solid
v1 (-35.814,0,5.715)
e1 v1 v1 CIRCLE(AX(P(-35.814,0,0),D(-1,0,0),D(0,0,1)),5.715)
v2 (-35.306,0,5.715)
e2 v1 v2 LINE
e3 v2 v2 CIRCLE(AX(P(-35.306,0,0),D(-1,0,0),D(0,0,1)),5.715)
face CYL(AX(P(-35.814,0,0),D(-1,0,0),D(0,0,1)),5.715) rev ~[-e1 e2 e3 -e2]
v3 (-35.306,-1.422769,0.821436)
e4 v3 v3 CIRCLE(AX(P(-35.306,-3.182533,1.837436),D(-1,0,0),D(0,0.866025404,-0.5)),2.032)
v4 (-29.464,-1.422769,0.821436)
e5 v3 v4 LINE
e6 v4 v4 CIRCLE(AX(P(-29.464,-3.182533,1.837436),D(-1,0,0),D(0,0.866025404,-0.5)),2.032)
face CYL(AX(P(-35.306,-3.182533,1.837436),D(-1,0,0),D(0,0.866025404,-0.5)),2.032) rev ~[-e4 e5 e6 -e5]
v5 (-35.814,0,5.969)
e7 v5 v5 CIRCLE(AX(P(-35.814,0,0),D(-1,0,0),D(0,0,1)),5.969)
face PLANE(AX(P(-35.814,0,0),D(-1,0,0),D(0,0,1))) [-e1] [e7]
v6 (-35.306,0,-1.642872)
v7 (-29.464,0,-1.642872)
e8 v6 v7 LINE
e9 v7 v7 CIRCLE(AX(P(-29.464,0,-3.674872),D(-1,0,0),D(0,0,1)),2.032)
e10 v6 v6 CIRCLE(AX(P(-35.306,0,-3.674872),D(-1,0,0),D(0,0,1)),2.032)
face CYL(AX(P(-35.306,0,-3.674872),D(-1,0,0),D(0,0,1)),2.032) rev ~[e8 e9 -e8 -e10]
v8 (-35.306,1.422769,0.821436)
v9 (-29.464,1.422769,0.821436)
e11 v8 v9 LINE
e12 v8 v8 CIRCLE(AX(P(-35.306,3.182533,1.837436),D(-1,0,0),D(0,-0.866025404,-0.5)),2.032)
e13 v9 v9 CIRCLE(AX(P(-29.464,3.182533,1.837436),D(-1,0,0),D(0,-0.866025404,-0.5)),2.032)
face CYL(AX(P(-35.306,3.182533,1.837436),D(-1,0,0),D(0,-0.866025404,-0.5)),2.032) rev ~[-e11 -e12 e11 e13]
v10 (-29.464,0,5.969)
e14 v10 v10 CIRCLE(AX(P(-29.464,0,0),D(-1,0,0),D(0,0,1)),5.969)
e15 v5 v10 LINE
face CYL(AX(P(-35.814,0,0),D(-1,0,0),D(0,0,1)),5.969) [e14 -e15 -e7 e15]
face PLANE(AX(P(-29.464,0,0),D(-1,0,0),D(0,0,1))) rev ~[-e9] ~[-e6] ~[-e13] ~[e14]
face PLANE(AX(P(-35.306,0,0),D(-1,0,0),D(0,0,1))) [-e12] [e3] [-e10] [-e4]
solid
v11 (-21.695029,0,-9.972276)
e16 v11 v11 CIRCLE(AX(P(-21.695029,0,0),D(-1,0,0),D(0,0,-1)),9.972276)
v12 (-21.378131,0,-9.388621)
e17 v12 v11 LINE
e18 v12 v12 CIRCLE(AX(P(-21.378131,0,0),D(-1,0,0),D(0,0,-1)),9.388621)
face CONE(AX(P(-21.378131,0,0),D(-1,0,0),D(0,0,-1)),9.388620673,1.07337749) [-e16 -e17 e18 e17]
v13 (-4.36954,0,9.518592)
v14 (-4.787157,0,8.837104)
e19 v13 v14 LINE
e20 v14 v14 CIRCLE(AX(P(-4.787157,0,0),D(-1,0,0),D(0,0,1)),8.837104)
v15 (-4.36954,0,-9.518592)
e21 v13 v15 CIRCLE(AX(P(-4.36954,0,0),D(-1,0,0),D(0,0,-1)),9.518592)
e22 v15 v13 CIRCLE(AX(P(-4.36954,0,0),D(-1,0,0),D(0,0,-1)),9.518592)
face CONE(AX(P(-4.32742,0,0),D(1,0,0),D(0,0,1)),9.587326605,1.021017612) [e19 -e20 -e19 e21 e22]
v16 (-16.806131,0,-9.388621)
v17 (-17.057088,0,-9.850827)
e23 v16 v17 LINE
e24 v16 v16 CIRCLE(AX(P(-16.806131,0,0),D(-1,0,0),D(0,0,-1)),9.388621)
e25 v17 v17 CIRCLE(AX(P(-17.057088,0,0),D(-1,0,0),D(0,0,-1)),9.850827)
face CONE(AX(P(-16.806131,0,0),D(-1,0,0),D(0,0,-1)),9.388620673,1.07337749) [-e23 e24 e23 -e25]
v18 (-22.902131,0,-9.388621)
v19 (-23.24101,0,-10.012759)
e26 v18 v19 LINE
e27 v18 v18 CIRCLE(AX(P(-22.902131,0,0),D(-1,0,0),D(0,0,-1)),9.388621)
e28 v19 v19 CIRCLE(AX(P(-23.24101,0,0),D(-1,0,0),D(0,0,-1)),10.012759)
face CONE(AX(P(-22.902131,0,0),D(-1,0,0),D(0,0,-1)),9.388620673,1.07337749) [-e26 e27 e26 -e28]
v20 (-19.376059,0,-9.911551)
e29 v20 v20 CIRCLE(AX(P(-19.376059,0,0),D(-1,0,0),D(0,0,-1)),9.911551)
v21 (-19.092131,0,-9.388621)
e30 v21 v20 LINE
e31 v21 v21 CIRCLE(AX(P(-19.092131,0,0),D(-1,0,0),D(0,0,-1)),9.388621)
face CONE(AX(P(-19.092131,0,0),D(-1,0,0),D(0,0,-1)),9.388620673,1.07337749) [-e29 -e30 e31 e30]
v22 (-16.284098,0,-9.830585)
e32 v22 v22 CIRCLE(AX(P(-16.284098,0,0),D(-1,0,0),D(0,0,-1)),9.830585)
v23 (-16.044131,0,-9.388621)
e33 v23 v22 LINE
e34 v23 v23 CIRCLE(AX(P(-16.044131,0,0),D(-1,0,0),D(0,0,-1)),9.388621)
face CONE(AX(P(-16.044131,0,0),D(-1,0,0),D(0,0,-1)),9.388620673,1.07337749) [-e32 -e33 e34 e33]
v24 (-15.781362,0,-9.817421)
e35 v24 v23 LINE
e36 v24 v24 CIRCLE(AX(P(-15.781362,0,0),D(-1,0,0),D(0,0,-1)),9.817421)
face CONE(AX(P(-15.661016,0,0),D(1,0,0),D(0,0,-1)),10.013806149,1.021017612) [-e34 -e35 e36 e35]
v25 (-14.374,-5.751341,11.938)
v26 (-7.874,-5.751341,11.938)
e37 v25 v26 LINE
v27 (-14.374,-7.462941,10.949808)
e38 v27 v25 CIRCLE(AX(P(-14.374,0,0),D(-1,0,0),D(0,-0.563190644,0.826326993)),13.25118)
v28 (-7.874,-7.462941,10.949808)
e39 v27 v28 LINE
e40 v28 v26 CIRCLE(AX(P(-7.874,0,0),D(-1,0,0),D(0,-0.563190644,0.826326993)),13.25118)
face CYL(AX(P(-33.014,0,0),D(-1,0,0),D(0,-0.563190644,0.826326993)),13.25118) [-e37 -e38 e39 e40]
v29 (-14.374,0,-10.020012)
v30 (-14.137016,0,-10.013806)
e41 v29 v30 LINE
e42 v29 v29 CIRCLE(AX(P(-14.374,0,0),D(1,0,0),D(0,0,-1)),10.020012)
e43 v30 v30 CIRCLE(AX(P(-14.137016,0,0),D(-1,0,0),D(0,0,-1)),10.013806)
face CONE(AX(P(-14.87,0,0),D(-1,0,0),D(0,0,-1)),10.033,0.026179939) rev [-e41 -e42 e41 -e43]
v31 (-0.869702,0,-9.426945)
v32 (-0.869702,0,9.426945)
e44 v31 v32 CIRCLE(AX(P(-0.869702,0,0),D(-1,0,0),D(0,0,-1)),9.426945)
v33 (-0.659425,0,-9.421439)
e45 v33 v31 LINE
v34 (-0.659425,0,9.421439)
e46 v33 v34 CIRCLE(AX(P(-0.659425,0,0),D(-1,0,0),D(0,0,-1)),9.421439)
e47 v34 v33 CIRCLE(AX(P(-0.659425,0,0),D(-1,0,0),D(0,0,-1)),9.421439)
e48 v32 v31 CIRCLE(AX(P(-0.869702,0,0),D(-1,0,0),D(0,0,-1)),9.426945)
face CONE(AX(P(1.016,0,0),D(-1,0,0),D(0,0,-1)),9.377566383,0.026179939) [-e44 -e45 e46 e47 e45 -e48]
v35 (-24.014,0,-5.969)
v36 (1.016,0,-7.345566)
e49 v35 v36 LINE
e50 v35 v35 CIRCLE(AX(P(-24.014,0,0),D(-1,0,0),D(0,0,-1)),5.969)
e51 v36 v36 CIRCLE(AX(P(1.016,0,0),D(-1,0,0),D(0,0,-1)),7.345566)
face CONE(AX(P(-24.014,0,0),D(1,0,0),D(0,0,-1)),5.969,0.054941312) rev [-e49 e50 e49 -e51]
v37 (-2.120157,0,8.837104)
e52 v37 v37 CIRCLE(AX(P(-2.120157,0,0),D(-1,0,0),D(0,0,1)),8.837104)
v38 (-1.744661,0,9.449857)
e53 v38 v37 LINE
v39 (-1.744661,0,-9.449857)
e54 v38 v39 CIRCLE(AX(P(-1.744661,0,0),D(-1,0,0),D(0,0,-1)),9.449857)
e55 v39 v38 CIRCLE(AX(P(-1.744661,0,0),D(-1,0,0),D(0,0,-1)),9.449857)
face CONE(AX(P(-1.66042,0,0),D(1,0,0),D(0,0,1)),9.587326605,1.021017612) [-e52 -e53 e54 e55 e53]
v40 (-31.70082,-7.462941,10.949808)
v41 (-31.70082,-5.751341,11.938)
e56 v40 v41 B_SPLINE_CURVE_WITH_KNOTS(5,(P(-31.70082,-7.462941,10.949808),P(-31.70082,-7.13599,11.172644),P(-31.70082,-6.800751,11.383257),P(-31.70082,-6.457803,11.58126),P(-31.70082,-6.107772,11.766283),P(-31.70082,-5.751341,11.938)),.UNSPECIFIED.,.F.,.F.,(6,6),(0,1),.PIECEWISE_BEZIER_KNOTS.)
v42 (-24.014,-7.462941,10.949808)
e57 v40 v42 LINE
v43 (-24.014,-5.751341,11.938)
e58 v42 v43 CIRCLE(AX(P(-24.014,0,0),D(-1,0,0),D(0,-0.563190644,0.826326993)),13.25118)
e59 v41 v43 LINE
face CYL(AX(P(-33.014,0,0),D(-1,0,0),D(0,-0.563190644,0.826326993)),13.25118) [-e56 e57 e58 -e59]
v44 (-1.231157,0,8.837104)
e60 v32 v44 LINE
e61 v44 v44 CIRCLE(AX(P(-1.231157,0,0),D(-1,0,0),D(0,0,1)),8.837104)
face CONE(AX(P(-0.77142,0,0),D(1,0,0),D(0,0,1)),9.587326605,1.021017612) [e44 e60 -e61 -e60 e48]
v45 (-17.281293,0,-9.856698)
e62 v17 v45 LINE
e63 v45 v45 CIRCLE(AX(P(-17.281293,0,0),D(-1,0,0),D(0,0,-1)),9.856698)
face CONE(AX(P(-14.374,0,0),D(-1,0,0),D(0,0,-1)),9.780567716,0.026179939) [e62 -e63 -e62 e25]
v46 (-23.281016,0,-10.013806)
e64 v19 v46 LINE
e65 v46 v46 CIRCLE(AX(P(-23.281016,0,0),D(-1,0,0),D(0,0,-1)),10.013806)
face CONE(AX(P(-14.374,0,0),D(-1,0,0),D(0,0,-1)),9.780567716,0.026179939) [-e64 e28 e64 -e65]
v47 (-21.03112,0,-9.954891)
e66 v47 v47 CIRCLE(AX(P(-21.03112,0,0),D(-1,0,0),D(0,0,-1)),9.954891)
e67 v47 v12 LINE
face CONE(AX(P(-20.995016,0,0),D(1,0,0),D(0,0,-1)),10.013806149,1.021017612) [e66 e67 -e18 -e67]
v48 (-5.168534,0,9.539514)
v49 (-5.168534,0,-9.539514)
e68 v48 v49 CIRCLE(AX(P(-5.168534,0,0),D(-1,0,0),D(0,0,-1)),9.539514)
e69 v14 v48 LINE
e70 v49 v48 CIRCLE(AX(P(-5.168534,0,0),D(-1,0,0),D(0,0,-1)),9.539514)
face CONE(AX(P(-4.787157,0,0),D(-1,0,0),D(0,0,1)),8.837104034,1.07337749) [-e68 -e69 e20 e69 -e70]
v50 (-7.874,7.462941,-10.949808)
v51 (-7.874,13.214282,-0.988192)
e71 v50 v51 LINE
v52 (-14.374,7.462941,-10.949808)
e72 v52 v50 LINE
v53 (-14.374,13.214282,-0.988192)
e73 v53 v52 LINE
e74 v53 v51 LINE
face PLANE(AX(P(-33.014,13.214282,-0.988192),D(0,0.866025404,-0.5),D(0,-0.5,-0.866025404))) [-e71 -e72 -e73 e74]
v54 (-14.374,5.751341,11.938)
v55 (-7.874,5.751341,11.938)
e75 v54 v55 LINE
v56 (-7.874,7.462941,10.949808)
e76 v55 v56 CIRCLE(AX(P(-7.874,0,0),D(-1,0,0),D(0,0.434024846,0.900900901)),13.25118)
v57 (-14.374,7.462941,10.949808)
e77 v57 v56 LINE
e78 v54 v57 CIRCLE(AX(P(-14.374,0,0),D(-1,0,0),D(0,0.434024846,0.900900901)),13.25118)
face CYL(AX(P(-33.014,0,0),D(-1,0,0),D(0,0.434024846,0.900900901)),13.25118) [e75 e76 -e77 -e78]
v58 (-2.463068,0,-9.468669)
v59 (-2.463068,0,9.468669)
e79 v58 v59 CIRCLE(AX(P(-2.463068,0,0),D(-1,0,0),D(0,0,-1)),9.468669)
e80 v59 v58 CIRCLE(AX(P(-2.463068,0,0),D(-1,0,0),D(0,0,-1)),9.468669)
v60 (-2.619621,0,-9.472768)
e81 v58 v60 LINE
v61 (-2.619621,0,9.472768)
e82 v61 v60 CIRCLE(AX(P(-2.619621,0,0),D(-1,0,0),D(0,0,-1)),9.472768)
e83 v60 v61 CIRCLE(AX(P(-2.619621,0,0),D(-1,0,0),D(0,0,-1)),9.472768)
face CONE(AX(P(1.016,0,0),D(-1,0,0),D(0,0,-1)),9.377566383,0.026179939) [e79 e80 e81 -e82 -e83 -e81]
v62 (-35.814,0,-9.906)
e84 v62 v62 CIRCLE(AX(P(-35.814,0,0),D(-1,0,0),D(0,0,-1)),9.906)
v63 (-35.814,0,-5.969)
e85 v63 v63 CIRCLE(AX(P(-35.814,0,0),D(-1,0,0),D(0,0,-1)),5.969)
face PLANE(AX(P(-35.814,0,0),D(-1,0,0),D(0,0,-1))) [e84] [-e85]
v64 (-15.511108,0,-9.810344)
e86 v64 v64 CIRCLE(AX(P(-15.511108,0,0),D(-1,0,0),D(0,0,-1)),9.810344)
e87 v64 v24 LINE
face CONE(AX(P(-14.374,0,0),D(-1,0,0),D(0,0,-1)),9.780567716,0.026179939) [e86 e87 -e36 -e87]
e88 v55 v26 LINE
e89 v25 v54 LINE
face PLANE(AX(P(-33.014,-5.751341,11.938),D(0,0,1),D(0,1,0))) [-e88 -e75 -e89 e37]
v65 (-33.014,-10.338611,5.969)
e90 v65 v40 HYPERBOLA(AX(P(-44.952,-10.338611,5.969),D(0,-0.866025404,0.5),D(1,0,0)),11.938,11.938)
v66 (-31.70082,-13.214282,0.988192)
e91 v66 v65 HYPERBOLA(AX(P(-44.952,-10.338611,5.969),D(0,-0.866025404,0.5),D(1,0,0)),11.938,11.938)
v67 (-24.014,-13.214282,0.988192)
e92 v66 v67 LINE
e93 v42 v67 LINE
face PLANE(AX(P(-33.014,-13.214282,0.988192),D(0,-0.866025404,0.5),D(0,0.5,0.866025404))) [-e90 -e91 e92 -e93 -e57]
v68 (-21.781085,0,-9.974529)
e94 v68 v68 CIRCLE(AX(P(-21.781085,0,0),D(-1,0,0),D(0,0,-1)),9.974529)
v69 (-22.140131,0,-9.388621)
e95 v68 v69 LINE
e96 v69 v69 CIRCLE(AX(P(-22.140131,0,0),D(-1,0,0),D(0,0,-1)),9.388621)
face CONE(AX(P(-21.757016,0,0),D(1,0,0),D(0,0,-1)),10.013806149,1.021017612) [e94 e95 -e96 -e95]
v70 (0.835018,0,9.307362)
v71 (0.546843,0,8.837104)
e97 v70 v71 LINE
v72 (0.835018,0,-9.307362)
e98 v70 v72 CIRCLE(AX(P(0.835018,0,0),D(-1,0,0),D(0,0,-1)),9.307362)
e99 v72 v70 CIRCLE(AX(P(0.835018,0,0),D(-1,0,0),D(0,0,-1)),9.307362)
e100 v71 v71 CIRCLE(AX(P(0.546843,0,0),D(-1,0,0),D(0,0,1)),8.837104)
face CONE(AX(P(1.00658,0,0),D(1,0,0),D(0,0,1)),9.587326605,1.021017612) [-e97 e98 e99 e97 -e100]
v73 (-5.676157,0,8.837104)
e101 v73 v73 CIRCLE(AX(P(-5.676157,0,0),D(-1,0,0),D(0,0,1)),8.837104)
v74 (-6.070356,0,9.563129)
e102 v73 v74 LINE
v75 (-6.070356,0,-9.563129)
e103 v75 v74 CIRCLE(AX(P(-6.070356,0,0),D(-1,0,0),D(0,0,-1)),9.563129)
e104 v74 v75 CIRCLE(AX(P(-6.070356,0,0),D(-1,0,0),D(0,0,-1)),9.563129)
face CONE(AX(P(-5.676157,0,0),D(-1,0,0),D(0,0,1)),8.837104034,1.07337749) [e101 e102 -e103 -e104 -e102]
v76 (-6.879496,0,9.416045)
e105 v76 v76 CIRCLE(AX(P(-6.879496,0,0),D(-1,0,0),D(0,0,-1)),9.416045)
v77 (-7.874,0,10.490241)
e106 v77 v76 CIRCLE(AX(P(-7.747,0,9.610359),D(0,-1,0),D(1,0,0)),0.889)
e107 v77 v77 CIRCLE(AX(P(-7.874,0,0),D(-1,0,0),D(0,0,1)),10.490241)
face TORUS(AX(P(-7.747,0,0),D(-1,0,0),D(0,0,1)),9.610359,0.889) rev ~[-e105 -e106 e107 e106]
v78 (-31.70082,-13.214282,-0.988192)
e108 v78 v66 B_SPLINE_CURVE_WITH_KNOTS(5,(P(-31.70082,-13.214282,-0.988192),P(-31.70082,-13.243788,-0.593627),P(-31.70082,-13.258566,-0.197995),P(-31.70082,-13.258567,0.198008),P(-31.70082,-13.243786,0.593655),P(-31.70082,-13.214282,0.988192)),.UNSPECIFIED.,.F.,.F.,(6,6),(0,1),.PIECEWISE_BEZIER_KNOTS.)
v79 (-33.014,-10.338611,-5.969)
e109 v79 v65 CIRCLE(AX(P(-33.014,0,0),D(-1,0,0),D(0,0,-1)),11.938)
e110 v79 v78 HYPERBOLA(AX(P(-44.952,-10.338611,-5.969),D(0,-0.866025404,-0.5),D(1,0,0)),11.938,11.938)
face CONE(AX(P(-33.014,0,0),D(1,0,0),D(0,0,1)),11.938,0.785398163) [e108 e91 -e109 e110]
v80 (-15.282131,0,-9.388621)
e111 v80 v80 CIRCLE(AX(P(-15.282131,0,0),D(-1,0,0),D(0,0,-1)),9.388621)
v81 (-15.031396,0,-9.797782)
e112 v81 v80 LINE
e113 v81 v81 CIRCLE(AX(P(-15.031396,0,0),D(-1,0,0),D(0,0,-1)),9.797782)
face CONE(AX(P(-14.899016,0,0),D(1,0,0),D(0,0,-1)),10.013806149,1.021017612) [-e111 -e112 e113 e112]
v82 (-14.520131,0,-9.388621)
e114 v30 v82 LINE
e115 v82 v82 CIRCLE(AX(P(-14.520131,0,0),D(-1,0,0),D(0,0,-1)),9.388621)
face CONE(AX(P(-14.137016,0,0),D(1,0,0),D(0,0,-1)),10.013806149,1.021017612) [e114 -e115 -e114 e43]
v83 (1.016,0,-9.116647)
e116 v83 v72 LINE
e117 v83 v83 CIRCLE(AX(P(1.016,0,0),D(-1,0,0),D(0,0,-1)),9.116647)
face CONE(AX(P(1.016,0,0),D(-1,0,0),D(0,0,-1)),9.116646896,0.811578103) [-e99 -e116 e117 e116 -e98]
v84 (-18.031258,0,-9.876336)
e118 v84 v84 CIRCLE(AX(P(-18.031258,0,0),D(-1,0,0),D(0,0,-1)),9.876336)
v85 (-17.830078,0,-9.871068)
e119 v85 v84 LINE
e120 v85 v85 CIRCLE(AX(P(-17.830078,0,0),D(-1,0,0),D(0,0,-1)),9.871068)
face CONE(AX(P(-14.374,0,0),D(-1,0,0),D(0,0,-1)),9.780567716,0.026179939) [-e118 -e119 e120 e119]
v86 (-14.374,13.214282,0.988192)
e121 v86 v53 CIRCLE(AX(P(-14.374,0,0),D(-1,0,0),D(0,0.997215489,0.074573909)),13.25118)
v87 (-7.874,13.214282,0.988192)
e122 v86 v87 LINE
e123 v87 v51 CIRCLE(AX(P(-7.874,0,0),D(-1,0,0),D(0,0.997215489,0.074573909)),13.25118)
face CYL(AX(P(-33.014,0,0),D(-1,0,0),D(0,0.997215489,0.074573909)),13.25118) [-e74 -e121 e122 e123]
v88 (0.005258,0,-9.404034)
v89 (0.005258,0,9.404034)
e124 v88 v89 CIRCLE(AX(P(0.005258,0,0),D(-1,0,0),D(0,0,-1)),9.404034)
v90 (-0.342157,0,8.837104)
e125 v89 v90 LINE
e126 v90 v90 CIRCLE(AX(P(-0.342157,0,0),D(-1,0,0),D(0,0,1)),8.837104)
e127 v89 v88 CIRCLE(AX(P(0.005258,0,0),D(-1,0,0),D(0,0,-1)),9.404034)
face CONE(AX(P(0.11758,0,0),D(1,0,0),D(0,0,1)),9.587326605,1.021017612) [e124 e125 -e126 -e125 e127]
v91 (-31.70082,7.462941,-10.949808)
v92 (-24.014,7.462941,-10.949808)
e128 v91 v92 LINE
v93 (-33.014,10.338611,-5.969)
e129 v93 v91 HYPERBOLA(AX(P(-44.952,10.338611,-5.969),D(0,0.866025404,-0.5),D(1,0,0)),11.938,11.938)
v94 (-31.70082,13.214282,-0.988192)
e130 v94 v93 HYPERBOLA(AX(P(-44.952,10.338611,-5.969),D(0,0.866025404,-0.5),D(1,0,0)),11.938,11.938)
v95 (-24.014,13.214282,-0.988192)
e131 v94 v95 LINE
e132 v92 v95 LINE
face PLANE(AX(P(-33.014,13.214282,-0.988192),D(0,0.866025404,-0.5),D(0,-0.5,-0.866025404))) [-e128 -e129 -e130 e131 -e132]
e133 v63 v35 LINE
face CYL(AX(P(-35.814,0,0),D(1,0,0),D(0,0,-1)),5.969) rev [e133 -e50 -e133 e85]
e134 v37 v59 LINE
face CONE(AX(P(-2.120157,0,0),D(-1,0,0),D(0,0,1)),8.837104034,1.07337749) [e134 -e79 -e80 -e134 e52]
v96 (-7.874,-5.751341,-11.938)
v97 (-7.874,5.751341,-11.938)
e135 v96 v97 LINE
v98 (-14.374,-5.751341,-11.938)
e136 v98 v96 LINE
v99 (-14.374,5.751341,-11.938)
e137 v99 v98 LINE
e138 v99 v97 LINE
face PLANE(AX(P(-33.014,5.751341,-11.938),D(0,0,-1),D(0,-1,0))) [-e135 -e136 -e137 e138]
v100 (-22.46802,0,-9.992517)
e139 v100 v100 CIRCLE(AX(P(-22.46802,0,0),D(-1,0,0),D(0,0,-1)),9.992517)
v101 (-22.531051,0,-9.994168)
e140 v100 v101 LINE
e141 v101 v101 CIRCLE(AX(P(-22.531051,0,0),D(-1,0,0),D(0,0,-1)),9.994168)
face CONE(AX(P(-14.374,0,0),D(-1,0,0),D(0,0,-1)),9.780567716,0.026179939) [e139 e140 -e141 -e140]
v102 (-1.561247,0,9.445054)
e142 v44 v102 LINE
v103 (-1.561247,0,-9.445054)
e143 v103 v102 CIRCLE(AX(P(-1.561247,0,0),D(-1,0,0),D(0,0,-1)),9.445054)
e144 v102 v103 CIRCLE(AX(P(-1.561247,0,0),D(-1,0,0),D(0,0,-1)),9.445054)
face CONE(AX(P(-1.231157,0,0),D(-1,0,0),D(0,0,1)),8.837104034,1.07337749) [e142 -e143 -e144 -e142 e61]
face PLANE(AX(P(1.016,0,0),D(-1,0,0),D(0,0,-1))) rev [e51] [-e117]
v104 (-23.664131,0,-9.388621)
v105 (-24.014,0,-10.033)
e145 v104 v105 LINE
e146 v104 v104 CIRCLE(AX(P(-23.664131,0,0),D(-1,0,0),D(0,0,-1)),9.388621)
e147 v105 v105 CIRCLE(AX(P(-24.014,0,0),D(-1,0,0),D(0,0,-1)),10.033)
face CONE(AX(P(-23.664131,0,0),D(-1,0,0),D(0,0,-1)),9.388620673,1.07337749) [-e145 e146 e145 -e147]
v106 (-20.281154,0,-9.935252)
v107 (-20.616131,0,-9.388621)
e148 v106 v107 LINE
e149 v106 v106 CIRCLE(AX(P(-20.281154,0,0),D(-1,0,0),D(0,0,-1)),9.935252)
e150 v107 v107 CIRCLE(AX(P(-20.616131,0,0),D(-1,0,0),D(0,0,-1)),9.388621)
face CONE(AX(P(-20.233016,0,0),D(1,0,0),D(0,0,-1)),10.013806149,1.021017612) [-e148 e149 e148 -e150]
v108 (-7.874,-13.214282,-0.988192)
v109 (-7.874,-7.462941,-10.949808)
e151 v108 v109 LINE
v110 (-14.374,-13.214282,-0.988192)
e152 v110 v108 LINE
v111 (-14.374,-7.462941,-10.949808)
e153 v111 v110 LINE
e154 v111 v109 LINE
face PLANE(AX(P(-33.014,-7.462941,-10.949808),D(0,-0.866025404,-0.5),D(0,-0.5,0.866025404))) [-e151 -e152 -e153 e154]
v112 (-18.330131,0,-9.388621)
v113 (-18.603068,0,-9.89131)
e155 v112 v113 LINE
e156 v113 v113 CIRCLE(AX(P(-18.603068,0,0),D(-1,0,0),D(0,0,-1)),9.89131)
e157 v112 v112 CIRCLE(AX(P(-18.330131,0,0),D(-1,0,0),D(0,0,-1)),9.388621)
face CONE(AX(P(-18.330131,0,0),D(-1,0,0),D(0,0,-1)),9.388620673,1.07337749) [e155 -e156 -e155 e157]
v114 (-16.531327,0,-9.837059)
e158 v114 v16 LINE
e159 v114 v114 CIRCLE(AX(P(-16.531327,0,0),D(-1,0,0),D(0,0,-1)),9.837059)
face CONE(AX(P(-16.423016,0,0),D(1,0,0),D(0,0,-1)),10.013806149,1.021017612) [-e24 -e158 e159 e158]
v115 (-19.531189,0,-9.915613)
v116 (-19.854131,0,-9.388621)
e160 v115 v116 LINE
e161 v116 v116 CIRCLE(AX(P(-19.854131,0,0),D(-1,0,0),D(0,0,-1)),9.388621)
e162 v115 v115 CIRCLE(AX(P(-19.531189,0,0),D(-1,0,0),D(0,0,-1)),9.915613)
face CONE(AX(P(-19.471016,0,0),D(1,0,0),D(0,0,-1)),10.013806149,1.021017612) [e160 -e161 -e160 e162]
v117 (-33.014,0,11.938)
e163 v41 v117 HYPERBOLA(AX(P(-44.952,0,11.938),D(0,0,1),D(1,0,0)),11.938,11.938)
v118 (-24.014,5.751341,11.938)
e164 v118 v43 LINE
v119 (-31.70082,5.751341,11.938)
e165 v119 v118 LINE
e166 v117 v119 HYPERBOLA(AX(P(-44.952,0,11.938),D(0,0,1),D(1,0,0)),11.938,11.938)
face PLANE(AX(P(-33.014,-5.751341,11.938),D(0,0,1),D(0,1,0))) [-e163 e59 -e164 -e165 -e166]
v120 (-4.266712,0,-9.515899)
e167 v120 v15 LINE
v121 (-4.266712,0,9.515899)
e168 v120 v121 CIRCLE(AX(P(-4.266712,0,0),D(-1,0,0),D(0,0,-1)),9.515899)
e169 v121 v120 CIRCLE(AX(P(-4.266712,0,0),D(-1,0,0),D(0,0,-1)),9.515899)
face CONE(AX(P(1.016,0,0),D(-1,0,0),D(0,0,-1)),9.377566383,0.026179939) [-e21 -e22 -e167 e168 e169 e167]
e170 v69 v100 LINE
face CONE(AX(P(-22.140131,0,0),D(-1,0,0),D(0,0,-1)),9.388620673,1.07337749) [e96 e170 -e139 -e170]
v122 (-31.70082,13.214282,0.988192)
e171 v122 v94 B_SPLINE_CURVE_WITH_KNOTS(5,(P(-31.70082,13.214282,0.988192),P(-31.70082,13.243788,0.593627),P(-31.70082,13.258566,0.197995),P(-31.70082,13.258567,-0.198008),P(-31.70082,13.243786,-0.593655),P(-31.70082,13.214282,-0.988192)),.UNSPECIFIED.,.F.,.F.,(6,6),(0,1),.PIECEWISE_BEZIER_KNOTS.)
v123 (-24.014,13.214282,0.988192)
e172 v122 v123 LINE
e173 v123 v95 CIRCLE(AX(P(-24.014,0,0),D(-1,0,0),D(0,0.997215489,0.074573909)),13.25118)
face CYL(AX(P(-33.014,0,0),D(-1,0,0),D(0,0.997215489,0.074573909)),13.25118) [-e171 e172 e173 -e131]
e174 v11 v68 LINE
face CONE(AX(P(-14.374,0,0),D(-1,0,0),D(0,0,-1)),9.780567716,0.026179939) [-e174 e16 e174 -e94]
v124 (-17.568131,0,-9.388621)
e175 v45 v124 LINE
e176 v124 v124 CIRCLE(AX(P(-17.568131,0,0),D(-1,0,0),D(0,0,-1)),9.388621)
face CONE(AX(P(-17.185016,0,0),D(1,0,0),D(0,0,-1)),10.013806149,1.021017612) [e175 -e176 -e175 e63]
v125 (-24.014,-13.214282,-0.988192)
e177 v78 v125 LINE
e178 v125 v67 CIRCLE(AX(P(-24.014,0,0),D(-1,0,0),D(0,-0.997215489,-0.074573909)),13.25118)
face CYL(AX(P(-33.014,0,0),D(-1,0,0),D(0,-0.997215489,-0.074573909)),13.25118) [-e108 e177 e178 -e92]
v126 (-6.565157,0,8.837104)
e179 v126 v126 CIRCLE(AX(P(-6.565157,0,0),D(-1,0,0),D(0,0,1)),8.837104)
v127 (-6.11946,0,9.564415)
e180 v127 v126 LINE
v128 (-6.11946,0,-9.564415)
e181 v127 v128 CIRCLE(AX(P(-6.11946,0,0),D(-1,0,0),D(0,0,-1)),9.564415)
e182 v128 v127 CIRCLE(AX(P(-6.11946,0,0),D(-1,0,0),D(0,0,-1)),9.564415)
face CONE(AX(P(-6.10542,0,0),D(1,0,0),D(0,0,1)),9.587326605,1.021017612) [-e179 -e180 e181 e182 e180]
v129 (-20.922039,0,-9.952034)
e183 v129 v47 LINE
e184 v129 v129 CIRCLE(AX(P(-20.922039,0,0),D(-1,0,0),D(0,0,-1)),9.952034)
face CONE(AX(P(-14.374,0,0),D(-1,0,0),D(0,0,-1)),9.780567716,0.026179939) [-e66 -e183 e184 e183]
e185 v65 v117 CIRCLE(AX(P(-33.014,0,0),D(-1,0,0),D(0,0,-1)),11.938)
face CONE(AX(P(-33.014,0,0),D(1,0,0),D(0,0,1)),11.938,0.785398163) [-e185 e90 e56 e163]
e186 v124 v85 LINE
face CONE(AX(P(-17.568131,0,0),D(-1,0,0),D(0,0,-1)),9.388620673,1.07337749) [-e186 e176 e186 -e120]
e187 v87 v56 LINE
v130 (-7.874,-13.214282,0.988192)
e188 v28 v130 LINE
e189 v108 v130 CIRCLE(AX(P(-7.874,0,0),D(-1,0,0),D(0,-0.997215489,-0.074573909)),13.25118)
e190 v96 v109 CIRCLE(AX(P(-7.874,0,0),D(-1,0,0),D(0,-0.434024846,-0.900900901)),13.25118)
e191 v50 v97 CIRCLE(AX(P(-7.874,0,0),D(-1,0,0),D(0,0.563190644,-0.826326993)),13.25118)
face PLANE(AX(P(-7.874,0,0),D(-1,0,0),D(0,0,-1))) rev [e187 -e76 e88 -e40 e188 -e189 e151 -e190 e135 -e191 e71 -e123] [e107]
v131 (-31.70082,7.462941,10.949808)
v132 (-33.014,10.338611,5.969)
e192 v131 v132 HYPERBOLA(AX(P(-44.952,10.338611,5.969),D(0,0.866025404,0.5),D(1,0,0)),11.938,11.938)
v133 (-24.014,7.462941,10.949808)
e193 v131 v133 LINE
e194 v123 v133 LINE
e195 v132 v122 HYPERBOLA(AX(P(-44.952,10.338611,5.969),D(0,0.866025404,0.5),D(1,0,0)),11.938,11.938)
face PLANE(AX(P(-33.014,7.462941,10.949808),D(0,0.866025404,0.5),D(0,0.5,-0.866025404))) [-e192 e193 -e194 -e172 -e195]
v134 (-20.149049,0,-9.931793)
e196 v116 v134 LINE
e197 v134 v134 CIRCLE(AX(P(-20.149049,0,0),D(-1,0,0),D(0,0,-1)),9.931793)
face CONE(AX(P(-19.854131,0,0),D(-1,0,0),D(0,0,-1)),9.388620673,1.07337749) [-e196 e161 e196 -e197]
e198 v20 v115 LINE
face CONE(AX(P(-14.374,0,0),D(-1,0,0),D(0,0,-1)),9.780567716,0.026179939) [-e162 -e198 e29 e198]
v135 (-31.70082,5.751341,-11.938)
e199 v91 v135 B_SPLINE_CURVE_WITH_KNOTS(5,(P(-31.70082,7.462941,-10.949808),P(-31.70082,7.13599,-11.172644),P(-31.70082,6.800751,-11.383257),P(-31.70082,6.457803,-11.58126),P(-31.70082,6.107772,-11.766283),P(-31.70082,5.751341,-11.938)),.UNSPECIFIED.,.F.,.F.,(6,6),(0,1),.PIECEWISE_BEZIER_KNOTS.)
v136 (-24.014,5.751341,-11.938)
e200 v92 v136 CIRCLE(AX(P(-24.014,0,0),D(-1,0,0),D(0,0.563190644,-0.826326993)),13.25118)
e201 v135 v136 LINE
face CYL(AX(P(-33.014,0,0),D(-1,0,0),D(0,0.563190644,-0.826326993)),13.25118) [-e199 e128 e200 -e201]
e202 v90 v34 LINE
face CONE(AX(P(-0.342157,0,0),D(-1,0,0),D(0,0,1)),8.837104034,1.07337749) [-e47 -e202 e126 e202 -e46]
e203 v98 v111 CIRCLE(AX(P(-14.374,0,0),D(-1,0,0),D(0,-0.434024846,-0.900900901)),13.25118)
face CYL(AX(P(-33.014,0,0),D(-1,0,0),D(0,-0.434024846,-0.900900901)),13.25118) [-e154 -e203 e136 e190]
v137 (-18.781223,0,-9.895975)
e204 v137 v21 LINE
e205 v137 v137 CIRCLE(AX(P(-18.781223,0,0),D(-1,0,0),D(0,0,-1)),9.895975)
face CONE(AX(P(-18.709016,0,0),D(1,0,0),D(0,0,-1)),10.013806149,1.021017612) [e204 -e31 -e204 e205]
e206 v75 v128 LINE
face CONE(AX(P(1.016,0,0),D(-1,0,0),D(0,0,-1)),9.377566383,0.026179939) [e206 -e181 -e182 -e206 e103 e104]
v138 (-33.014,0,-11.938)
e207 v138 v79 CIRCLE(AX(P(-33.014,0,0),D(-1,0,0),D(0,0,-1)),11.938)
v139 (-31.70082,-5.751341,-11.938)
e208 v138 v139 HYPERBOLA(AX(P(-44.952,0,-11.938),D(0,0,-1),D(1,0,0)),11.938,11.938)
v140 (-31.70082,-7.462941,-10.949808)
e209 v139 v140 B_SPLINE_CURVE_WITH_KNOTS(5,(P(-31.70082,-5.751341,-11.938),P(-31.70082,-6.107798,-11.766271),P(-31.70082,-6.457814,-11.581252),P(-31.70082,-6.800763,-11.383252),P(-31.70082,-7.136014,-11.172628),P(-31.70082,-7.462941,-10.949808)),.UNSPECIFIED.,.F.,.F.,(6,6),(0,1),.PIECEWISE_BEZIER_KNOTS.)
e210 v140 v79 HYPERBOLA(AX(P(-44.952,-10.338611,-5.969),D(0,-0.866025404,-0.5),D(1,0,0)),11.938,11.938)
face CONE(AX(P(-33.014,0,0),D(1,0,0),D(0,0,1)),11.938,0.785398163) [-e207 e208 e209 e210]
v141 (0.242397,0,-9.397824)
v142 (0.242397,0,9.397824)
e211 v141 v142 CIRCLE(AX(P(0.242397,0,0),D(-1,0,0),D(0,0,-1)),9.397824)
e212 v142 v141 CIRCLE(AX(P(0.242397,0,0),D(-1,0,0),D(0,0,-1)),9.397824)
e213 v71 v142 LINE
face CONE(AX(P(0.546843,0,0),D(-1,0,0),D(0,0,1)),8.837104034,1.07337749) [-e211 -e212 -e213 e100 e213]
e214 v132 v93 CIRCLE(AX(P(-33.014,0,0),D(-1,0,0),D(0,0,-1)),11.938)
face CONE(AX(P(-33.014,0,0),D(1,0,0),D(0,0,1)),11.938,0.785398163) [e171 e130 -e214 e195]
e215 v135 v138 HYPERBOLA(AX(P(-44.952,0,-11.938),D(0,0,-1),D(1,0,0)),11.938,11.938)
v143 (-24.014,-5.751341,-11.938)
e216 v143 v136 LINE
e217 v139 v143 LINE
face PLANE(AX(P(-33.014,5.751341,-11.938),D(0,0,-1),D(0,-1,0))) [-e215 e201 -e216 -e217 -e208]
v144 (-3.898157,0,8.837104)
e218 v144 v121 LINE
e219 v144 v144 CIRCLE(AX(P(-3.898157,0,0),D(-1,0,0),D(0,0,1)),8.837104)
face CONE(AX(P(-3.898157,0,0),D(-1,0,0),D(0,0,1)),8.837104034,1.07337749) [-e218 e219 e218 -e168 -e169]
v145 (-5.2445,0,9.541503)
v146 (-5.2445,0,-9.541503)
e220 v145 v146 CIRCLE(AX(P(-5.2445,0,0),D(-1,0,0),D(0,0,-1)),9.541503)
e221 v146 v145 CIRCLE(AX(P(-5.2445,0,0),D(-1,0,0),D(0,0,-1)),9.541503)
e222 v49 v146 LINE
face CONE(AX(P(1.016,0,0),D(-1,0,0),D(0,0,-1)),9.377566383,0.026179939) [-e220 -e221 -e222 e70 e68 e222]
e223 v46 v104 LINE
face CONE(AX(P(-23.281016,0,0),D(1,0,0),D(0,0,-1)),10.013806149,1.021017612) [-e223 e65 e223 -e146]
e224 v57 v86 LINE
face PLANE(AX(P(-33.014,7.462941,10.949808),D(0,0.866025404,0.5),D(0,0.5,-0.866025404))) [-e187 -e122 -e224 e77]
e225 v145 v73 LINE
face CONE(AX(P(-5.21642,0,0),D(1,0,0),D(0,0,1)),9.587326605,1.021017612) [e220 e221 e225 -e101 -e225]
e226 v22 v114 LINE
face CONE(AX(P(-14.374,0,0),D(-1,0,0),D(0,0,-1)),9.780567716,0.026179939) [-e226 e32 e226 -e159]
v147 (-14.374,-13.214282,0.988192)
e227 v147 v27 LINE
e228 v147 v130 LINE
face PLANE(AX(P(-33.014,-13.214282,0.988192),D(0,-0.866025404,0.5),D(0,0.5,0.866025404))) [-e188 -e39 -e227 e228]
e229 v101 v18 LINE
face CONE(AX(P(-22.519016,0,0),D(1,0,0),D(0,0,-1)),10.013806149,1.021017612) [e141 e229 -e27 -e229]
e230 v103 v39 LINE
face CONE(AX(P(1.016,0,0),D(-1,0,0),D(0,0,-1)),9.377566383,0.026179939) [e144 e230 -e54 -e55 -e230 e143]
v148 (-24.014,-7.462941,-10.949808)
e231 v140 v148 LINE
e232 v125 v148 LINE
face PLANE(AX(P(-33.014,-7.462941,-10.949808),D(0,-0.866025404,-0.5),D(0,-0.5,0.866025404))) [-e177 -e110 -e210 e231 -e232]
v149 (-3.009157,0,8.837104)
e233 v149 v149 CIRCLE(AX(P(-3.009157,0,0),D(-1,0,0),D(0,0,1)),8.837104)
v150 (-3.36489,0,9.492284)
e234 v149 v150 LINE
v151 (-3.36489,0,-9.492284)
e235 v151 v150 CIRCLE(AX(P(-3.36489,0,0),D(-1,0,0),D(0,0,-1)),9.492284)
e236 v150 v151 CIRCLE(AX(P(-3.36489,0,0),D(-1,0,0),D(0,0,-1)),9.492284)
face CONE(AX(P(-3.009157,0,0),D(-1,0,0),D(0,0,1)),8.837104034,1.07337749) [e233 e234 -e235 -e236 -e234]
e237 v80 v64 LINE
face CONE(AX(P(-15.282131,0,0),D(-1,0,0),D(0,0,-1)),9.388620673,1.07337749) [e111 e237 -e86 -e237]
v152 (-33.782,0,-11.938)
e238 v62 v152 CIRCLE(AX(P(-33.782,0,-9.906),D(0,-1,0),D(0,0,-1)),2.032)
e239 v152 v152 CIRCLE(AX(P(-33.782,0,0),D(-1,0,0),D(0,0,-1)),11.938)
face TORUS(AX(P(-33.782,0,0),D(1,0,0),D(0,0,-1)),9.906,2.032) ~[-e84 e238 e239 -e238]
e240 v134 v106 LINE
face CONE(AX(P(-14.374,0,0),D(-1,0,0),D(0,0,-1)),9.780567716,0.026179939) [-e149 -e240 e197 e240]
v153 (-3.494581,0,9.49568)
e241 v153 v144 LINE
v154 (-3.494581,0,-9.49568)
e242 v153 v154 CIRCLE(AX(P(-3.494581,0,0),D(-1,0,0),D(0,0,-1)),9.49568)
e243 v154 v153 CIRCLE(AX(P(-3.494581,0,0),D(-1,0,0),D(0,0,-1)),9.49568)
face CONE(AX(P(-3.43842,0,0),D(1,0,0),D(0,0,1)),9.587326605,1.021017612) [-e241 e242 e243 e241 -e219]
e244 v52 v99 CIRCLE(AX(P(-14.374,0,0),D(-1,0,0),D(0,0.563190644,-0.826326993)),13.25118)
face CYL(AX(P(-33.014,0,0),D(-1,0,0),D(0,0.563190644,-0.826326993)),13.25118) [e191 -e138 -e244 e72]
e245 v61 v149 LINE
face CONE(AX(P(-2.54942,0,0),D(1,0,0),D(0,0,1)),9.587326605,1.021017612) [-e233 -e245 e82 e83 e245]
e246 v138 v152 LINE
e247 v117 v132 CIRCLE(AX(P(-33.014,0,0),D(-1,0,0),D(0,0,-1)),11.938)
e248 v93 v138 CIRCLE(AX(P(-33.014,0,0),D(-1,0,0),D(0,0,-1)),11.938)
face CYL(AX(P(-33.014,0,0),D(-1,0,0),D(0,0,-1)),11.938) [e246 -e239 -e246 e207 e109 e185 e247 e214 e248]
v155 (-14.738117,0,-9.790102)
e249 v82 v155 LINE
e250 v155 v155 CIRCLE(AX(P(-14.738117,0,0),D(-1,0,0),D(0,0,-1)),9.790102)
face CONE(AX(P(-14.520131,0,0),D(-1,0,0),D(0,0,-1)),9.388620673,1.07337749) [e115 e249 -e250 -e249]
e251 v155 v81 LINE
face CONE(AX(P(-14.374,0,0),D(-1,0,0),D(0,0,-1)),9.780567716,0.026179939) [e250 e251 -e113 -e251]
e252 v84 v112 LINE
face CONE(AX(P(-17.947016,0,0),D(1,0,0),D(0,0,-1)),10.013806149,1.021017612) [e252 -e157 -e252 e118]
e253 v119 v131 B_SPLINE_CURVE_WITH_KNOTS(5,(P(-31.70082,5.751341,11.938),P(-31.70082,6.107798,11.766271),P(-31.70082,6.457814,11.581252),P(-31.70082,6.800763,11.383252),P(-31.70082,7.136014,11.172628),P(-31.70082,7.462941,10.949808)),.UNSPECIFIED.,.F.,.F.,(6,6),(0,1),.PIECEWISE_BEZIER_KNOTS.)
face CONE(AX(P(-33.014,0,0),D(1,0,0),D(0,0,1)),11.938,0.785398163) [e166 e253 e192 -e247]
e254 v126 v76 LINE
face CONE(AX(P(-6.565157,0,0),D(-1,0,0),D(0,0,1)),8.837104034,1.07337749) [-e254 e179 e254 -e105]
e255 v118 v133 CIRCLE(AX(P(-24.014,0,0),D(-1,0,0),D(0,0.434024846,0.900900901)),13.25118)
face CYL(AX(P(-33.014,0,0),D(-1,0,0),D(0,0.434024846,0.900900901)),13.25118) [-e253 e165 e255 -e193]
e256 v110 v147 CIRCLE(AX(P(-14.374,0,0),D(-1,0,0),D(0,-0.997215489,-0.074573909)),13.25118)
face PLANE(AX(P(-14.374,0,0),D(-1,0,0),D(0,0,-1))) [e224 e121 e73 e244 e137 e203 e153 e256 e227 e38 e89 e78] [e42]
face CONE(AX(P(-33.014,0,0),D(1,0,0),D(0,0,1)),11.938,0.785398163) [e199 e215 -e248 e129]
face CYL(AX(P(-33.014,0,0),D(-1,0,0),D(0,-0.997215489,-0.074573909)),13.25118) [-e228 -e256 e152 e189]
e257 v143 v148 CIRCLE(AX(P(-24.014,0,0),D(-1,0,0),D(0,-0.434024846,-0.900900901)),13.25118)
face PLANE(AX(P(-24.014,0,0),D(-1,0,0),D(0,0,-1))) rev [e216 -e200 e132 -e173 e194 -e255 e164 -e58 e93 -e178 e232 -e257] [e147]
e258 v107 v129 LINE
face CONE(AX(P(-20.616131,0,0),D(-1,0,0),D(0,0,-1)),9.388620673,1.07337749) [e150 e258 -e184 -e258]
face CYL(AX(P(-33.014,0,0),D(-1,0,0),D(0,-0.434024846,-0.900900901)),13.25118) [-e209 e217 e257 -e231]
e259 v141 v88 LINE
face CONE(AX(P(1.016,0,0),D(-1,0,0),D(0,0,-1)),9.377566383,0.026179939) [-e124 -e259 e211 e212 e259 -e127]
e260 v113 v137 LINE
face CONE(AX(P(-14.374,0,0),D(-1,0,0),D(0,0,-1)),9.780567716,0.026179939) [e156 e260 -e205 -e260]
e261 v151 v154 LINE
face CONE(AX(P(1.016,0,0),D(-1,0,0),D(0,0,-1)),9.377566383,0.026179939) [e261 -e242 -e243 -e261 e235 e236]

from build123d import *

# Parameters (mm, degrees)
SKETCH12_OUTSIDE_W = 65.136
SKETCH12_OUTSIDE_H = 65.136
CUT_EXTRUDE2_DEPTH = 35.03
FILLET4_R          = 2.032
SKETCH19_OUTSIDE_W = 40.13
SKETCH19_OUTSIDE_H = 42.756
SKETCH19_OUTSIDE_R = 11.938
CUT_EXTRUDE3_DEPTH = 1.999996
CUT_EXTRUDE3_DRAFT = -45
CHAMFER1_SIZE      = 0.260919487
CHAMFER1_SIZE2     = 0.254
SKETCH21_R         = 5.969
PLUG_DEPTH         = 6.35
SKETCH22_R         = 5.715
CUT_EXTRUDE4_DEPTH = 0.508
SKETCH27_R         = 2.032
PLUGHOLES_DEPTH    = 37.322
CIRPATTERN1_COUNT  = 3
LPATTERN1_COUNT    = 13
LPATTERN1_PITCH    = 0.762
LPATTERN2_COUNT    = 10
LPATTERN2_PITCH    = 0.889
SKETCH32_R         = 0.889


with BuildPart() as part:
    # Sketch10 → Revolve2 (revolve)
    with BuildSketch(Plane.XY, mode=Mode.PRIVATE) as revolve2_sk:
        Polygon((-35.814, 5.969), (-24.014, 5.969), (1.016, 7.345566383), (1.016, 9.377566383), (-7.874, 9.610359226), (-7.874, 23.876), (-14.374, 23.876), (-14.374, 9.780567716), (-24.014, 10.033), (-24.014, 23.876), (-33.014, 23.876), (-33.014, 11.938), (-35.814, 11.938), align=None)
    revolve(revolve2_sk.sketch.rotate(Axis((0, 0, 0), (-1, 0, 0)), 90), axis=Axis((0, 0, 0), (-1, 0, 0)))  # turned: the seam where the file's is

    # Sketch12 outside → Cut-Extrude2 (cut, through all)
    with BuildSketch(Plane.ZY.offset(33.014)):
        Rectangle(SKETCH12_OUTSIDE_W, SKETCH12_OUTSIDE_H)
        with BuildLine():
            Line((-0.98819228, 13.214281948), (-10.94980772, 7.462940592))
            ThreePointArc((-10.94980772, 7.462940592), (-11.47585851, 6.62559), (-11.938, 5.751341356))
            Line((-11.938, 5.751341356), (-11.938, -5.751341356))
            ThreePointArc((-11.938, -5.751341356), (-11.47585851, -6.62559), (-10.94980772, -7.462940592))
            Line((-10.94980772, -7.462940592), (-0.98819228, -13.214281948))
            ThreePointArc((-0.98819228, -13.214281948), (0, -13.25118), (0.98819228, -13.214281948))
            Line((0.98819228, -13.214281948), (10.94980772, -7.462940592))
            ThreePointArc((10.94980772, -7.462940592), (11.47585851, -6.62559), (11.938, -5.751341356))
            Line((11.938, -5.751341356), (11.938, 5.751341356))
            ThreePointArc((11.938, 5.751341356), (11.47585851, 6.62559), (10.94980772, 7.462940592))
            Line((10.94980772, 7.462940592), (0.98819228, 13.214281948))
            ThreePointArc((0.98819228, 13.214281948), (0, 13.25118), (-0.98819228, 13.214281948))
        make_face(mode=Mode.SUBTRACT)
    extrude(amount=-CUT_EXTRUDE2_DEPTH, mode=Mode.SUBTRACT)

    # Fillet4
    fillet4_edges = [part.edges().sort_by_distance(p)[0] for p in [
        (-35.814, 0, 11.938),
    ]]
    fillet(fillet4_edges, radius=FILLET4_R)


with BuildPart() as cut_extrude3_tool:
    # Sketch19 outside → Cut-Extrude3 (with draft: the straight prism first)
    with BuildSketch(Plane.ZY.offset(33.014)):
        Rectangle(SKETCH19_OUTSIDE_W, SKETCH19_OUTSIDE_H)
        Circle(SKETCH19_OUTSIDE_R, mode=Mode.SUBTRACT)
    extrude(amount=-CUT_EXTRUDE3_DEPTH)
    # Cut-Extrude3: the draft: its side faces are tilted about the plane it starts from
    cut_extrude3_sides = [cut_extrude3_tool.faces().sort_by_distance(p)[0] for p in [
        (-32.014002, -21.378, 0),
        (-32.014002, 0, 20.065),
        (-32.014002, 21.378, 0),
        (-32.014002, 0, -20.065),
        (-32.014002, 0, -11.938),
    ]]
    draft(cut_extrude3_sides, Plane.ZY.offset(33.014), CUT_EXTRUDE3_DRAFT)


with BuildPart() as part_1:
    add(part.part)

    # Cut-Extrude3: cut by cut_extrude3_tool
    add(cut_extrude3_tool.part, mode=Mode.SUBTRACT)

    # Chamfer1
    chamfer1_edges = [part_1.edges().sort_by_distance(p)[0] for p in [
        (1.016, 0, 9.377566383),
    ]]
    chamfer1_side = [part_1.faces().sort_by_distance(p)[0] for p in [
        (1.016, 0, 7.610804014),
    ]]
    chamfer(chamfer1_edges, length=CHAMFER1_SIZE, length2=CHAMFER1_SIZE2, reference=chamfer1_side[0])

    # Sketch29 → Cut-Revolve1 (revolve, cut)
    with BuildSketch(Plane.XY, mode=Mode.PRIVATE) as cut_revolve1_sk:
        Polygon((-24.014, 10.033), (-23.281016419, 10.013806149), (-23.664130572, 9.388620673), align=None)
    cut_revolve1 = revolve(cut_revolve1_sk.sketch.rotate(Axis((0, 0, 0), (-1, 0, 0)), 90), axis=Axis((0, 0, 0), (-1, 0, 0)), mode=Mode.SUBTRACT)  # turned: the seam where the file's is

    # LPattern1: Cut-Revolve1 ×13
    with Locations(*[(i * LPATTERN1_PITCH, 0, 0) for i in range(1, LPATTERN1_COUNT)]):
        add(cut_revolve1, mode=Mode.SUBTRACT)

    # Sketch30 → Cut-Revolve2 (revolve, cut)
    with BuildSketch(Plane.XY, mode=Mode.PRIVATE) as cut_revolve2_sk:
        Polygon((-7.874, 9.610359226), (-6.994419703, 9.587326605), (-7.454156686, 8.837104034), align=None)
    cut_revolve2 = revolve(cut_revolve2_sk.sketch.rotate(Axis((0, 0, 0), (-1, 0, 0)), 270), axis=Axis((0, 0, 0), (-1, 0, 0)), mode=Mode.SUBTRACT)  # turned: the seam where the file's is

    # LPattern2: Cut-Revolve2 ×10
    with Locations(*[(i * LPATTERN2_PITCH, 0, 0) for i in range(1, LPATTERN2_COUNT)]):
        add(cut_revolve2, mode=Mode.SUBTRACT)

    # Sketch32 → Cut-Revolve3 (revolve, cut)
    with BuildSketch(Plane.XY, mode=Mode.PRIVATE) as cut_revolve3_sk:
        with Locations((-7.747, 9.610359226)):
            Circle(SKETCH32_R)
    revolve(cut_revolve3_sk.sketch.rotate(Axis((0, 0, 0), (-1, 0, 0)), 270), axis=Axis((0, 0, 0), (-1, 0, 0)), mode=Mode.SUBTRACT)  # turned: the seam where the file's is


with BuildPart() as body_2:
    # Sketch21 → plug (new body)
    with BuildSketch(Plane.ZY.offset(35.814)):
        Circle(SKETCH21_R)
    extrude(amount=-PLUG_DEPTH)

    # Sketch22 → Cut-Extrude4 (cut)
    with BuildSketch(Plane.ZY.offset(35.814)):
        Circle(SKETCH22_R)
    extrude(amount=-CUT_EXTRUDE4_DEPTH, mode=Mode.SUBTRACT)

    # Sketch27 → plugholes (cut, through all)
    with BuildSketch(Plane.ZY.offset(35.306)):
        with Locations((-3.674872, 0)):
            Circle(SKETCH27_R)
    plugholes = extrude(amount=-PLUGHOLES_DEPTH, mode=Mode.SUBTRACT)

    # CirPattern1: plugholes ×3 about axis
    cirpattern1_axis = Axis((0, 0, 0), (1, 0, 0))
    for i in range(1, CIRPATTERN1_COUNT):
        add(plugholes.rotate(cirpattern1_axis, i * 360 / CIRPATTERN1_COUNT), mode=Mode.SUBTRACT)


solid = Compound([part_1.part, body_2.part])
